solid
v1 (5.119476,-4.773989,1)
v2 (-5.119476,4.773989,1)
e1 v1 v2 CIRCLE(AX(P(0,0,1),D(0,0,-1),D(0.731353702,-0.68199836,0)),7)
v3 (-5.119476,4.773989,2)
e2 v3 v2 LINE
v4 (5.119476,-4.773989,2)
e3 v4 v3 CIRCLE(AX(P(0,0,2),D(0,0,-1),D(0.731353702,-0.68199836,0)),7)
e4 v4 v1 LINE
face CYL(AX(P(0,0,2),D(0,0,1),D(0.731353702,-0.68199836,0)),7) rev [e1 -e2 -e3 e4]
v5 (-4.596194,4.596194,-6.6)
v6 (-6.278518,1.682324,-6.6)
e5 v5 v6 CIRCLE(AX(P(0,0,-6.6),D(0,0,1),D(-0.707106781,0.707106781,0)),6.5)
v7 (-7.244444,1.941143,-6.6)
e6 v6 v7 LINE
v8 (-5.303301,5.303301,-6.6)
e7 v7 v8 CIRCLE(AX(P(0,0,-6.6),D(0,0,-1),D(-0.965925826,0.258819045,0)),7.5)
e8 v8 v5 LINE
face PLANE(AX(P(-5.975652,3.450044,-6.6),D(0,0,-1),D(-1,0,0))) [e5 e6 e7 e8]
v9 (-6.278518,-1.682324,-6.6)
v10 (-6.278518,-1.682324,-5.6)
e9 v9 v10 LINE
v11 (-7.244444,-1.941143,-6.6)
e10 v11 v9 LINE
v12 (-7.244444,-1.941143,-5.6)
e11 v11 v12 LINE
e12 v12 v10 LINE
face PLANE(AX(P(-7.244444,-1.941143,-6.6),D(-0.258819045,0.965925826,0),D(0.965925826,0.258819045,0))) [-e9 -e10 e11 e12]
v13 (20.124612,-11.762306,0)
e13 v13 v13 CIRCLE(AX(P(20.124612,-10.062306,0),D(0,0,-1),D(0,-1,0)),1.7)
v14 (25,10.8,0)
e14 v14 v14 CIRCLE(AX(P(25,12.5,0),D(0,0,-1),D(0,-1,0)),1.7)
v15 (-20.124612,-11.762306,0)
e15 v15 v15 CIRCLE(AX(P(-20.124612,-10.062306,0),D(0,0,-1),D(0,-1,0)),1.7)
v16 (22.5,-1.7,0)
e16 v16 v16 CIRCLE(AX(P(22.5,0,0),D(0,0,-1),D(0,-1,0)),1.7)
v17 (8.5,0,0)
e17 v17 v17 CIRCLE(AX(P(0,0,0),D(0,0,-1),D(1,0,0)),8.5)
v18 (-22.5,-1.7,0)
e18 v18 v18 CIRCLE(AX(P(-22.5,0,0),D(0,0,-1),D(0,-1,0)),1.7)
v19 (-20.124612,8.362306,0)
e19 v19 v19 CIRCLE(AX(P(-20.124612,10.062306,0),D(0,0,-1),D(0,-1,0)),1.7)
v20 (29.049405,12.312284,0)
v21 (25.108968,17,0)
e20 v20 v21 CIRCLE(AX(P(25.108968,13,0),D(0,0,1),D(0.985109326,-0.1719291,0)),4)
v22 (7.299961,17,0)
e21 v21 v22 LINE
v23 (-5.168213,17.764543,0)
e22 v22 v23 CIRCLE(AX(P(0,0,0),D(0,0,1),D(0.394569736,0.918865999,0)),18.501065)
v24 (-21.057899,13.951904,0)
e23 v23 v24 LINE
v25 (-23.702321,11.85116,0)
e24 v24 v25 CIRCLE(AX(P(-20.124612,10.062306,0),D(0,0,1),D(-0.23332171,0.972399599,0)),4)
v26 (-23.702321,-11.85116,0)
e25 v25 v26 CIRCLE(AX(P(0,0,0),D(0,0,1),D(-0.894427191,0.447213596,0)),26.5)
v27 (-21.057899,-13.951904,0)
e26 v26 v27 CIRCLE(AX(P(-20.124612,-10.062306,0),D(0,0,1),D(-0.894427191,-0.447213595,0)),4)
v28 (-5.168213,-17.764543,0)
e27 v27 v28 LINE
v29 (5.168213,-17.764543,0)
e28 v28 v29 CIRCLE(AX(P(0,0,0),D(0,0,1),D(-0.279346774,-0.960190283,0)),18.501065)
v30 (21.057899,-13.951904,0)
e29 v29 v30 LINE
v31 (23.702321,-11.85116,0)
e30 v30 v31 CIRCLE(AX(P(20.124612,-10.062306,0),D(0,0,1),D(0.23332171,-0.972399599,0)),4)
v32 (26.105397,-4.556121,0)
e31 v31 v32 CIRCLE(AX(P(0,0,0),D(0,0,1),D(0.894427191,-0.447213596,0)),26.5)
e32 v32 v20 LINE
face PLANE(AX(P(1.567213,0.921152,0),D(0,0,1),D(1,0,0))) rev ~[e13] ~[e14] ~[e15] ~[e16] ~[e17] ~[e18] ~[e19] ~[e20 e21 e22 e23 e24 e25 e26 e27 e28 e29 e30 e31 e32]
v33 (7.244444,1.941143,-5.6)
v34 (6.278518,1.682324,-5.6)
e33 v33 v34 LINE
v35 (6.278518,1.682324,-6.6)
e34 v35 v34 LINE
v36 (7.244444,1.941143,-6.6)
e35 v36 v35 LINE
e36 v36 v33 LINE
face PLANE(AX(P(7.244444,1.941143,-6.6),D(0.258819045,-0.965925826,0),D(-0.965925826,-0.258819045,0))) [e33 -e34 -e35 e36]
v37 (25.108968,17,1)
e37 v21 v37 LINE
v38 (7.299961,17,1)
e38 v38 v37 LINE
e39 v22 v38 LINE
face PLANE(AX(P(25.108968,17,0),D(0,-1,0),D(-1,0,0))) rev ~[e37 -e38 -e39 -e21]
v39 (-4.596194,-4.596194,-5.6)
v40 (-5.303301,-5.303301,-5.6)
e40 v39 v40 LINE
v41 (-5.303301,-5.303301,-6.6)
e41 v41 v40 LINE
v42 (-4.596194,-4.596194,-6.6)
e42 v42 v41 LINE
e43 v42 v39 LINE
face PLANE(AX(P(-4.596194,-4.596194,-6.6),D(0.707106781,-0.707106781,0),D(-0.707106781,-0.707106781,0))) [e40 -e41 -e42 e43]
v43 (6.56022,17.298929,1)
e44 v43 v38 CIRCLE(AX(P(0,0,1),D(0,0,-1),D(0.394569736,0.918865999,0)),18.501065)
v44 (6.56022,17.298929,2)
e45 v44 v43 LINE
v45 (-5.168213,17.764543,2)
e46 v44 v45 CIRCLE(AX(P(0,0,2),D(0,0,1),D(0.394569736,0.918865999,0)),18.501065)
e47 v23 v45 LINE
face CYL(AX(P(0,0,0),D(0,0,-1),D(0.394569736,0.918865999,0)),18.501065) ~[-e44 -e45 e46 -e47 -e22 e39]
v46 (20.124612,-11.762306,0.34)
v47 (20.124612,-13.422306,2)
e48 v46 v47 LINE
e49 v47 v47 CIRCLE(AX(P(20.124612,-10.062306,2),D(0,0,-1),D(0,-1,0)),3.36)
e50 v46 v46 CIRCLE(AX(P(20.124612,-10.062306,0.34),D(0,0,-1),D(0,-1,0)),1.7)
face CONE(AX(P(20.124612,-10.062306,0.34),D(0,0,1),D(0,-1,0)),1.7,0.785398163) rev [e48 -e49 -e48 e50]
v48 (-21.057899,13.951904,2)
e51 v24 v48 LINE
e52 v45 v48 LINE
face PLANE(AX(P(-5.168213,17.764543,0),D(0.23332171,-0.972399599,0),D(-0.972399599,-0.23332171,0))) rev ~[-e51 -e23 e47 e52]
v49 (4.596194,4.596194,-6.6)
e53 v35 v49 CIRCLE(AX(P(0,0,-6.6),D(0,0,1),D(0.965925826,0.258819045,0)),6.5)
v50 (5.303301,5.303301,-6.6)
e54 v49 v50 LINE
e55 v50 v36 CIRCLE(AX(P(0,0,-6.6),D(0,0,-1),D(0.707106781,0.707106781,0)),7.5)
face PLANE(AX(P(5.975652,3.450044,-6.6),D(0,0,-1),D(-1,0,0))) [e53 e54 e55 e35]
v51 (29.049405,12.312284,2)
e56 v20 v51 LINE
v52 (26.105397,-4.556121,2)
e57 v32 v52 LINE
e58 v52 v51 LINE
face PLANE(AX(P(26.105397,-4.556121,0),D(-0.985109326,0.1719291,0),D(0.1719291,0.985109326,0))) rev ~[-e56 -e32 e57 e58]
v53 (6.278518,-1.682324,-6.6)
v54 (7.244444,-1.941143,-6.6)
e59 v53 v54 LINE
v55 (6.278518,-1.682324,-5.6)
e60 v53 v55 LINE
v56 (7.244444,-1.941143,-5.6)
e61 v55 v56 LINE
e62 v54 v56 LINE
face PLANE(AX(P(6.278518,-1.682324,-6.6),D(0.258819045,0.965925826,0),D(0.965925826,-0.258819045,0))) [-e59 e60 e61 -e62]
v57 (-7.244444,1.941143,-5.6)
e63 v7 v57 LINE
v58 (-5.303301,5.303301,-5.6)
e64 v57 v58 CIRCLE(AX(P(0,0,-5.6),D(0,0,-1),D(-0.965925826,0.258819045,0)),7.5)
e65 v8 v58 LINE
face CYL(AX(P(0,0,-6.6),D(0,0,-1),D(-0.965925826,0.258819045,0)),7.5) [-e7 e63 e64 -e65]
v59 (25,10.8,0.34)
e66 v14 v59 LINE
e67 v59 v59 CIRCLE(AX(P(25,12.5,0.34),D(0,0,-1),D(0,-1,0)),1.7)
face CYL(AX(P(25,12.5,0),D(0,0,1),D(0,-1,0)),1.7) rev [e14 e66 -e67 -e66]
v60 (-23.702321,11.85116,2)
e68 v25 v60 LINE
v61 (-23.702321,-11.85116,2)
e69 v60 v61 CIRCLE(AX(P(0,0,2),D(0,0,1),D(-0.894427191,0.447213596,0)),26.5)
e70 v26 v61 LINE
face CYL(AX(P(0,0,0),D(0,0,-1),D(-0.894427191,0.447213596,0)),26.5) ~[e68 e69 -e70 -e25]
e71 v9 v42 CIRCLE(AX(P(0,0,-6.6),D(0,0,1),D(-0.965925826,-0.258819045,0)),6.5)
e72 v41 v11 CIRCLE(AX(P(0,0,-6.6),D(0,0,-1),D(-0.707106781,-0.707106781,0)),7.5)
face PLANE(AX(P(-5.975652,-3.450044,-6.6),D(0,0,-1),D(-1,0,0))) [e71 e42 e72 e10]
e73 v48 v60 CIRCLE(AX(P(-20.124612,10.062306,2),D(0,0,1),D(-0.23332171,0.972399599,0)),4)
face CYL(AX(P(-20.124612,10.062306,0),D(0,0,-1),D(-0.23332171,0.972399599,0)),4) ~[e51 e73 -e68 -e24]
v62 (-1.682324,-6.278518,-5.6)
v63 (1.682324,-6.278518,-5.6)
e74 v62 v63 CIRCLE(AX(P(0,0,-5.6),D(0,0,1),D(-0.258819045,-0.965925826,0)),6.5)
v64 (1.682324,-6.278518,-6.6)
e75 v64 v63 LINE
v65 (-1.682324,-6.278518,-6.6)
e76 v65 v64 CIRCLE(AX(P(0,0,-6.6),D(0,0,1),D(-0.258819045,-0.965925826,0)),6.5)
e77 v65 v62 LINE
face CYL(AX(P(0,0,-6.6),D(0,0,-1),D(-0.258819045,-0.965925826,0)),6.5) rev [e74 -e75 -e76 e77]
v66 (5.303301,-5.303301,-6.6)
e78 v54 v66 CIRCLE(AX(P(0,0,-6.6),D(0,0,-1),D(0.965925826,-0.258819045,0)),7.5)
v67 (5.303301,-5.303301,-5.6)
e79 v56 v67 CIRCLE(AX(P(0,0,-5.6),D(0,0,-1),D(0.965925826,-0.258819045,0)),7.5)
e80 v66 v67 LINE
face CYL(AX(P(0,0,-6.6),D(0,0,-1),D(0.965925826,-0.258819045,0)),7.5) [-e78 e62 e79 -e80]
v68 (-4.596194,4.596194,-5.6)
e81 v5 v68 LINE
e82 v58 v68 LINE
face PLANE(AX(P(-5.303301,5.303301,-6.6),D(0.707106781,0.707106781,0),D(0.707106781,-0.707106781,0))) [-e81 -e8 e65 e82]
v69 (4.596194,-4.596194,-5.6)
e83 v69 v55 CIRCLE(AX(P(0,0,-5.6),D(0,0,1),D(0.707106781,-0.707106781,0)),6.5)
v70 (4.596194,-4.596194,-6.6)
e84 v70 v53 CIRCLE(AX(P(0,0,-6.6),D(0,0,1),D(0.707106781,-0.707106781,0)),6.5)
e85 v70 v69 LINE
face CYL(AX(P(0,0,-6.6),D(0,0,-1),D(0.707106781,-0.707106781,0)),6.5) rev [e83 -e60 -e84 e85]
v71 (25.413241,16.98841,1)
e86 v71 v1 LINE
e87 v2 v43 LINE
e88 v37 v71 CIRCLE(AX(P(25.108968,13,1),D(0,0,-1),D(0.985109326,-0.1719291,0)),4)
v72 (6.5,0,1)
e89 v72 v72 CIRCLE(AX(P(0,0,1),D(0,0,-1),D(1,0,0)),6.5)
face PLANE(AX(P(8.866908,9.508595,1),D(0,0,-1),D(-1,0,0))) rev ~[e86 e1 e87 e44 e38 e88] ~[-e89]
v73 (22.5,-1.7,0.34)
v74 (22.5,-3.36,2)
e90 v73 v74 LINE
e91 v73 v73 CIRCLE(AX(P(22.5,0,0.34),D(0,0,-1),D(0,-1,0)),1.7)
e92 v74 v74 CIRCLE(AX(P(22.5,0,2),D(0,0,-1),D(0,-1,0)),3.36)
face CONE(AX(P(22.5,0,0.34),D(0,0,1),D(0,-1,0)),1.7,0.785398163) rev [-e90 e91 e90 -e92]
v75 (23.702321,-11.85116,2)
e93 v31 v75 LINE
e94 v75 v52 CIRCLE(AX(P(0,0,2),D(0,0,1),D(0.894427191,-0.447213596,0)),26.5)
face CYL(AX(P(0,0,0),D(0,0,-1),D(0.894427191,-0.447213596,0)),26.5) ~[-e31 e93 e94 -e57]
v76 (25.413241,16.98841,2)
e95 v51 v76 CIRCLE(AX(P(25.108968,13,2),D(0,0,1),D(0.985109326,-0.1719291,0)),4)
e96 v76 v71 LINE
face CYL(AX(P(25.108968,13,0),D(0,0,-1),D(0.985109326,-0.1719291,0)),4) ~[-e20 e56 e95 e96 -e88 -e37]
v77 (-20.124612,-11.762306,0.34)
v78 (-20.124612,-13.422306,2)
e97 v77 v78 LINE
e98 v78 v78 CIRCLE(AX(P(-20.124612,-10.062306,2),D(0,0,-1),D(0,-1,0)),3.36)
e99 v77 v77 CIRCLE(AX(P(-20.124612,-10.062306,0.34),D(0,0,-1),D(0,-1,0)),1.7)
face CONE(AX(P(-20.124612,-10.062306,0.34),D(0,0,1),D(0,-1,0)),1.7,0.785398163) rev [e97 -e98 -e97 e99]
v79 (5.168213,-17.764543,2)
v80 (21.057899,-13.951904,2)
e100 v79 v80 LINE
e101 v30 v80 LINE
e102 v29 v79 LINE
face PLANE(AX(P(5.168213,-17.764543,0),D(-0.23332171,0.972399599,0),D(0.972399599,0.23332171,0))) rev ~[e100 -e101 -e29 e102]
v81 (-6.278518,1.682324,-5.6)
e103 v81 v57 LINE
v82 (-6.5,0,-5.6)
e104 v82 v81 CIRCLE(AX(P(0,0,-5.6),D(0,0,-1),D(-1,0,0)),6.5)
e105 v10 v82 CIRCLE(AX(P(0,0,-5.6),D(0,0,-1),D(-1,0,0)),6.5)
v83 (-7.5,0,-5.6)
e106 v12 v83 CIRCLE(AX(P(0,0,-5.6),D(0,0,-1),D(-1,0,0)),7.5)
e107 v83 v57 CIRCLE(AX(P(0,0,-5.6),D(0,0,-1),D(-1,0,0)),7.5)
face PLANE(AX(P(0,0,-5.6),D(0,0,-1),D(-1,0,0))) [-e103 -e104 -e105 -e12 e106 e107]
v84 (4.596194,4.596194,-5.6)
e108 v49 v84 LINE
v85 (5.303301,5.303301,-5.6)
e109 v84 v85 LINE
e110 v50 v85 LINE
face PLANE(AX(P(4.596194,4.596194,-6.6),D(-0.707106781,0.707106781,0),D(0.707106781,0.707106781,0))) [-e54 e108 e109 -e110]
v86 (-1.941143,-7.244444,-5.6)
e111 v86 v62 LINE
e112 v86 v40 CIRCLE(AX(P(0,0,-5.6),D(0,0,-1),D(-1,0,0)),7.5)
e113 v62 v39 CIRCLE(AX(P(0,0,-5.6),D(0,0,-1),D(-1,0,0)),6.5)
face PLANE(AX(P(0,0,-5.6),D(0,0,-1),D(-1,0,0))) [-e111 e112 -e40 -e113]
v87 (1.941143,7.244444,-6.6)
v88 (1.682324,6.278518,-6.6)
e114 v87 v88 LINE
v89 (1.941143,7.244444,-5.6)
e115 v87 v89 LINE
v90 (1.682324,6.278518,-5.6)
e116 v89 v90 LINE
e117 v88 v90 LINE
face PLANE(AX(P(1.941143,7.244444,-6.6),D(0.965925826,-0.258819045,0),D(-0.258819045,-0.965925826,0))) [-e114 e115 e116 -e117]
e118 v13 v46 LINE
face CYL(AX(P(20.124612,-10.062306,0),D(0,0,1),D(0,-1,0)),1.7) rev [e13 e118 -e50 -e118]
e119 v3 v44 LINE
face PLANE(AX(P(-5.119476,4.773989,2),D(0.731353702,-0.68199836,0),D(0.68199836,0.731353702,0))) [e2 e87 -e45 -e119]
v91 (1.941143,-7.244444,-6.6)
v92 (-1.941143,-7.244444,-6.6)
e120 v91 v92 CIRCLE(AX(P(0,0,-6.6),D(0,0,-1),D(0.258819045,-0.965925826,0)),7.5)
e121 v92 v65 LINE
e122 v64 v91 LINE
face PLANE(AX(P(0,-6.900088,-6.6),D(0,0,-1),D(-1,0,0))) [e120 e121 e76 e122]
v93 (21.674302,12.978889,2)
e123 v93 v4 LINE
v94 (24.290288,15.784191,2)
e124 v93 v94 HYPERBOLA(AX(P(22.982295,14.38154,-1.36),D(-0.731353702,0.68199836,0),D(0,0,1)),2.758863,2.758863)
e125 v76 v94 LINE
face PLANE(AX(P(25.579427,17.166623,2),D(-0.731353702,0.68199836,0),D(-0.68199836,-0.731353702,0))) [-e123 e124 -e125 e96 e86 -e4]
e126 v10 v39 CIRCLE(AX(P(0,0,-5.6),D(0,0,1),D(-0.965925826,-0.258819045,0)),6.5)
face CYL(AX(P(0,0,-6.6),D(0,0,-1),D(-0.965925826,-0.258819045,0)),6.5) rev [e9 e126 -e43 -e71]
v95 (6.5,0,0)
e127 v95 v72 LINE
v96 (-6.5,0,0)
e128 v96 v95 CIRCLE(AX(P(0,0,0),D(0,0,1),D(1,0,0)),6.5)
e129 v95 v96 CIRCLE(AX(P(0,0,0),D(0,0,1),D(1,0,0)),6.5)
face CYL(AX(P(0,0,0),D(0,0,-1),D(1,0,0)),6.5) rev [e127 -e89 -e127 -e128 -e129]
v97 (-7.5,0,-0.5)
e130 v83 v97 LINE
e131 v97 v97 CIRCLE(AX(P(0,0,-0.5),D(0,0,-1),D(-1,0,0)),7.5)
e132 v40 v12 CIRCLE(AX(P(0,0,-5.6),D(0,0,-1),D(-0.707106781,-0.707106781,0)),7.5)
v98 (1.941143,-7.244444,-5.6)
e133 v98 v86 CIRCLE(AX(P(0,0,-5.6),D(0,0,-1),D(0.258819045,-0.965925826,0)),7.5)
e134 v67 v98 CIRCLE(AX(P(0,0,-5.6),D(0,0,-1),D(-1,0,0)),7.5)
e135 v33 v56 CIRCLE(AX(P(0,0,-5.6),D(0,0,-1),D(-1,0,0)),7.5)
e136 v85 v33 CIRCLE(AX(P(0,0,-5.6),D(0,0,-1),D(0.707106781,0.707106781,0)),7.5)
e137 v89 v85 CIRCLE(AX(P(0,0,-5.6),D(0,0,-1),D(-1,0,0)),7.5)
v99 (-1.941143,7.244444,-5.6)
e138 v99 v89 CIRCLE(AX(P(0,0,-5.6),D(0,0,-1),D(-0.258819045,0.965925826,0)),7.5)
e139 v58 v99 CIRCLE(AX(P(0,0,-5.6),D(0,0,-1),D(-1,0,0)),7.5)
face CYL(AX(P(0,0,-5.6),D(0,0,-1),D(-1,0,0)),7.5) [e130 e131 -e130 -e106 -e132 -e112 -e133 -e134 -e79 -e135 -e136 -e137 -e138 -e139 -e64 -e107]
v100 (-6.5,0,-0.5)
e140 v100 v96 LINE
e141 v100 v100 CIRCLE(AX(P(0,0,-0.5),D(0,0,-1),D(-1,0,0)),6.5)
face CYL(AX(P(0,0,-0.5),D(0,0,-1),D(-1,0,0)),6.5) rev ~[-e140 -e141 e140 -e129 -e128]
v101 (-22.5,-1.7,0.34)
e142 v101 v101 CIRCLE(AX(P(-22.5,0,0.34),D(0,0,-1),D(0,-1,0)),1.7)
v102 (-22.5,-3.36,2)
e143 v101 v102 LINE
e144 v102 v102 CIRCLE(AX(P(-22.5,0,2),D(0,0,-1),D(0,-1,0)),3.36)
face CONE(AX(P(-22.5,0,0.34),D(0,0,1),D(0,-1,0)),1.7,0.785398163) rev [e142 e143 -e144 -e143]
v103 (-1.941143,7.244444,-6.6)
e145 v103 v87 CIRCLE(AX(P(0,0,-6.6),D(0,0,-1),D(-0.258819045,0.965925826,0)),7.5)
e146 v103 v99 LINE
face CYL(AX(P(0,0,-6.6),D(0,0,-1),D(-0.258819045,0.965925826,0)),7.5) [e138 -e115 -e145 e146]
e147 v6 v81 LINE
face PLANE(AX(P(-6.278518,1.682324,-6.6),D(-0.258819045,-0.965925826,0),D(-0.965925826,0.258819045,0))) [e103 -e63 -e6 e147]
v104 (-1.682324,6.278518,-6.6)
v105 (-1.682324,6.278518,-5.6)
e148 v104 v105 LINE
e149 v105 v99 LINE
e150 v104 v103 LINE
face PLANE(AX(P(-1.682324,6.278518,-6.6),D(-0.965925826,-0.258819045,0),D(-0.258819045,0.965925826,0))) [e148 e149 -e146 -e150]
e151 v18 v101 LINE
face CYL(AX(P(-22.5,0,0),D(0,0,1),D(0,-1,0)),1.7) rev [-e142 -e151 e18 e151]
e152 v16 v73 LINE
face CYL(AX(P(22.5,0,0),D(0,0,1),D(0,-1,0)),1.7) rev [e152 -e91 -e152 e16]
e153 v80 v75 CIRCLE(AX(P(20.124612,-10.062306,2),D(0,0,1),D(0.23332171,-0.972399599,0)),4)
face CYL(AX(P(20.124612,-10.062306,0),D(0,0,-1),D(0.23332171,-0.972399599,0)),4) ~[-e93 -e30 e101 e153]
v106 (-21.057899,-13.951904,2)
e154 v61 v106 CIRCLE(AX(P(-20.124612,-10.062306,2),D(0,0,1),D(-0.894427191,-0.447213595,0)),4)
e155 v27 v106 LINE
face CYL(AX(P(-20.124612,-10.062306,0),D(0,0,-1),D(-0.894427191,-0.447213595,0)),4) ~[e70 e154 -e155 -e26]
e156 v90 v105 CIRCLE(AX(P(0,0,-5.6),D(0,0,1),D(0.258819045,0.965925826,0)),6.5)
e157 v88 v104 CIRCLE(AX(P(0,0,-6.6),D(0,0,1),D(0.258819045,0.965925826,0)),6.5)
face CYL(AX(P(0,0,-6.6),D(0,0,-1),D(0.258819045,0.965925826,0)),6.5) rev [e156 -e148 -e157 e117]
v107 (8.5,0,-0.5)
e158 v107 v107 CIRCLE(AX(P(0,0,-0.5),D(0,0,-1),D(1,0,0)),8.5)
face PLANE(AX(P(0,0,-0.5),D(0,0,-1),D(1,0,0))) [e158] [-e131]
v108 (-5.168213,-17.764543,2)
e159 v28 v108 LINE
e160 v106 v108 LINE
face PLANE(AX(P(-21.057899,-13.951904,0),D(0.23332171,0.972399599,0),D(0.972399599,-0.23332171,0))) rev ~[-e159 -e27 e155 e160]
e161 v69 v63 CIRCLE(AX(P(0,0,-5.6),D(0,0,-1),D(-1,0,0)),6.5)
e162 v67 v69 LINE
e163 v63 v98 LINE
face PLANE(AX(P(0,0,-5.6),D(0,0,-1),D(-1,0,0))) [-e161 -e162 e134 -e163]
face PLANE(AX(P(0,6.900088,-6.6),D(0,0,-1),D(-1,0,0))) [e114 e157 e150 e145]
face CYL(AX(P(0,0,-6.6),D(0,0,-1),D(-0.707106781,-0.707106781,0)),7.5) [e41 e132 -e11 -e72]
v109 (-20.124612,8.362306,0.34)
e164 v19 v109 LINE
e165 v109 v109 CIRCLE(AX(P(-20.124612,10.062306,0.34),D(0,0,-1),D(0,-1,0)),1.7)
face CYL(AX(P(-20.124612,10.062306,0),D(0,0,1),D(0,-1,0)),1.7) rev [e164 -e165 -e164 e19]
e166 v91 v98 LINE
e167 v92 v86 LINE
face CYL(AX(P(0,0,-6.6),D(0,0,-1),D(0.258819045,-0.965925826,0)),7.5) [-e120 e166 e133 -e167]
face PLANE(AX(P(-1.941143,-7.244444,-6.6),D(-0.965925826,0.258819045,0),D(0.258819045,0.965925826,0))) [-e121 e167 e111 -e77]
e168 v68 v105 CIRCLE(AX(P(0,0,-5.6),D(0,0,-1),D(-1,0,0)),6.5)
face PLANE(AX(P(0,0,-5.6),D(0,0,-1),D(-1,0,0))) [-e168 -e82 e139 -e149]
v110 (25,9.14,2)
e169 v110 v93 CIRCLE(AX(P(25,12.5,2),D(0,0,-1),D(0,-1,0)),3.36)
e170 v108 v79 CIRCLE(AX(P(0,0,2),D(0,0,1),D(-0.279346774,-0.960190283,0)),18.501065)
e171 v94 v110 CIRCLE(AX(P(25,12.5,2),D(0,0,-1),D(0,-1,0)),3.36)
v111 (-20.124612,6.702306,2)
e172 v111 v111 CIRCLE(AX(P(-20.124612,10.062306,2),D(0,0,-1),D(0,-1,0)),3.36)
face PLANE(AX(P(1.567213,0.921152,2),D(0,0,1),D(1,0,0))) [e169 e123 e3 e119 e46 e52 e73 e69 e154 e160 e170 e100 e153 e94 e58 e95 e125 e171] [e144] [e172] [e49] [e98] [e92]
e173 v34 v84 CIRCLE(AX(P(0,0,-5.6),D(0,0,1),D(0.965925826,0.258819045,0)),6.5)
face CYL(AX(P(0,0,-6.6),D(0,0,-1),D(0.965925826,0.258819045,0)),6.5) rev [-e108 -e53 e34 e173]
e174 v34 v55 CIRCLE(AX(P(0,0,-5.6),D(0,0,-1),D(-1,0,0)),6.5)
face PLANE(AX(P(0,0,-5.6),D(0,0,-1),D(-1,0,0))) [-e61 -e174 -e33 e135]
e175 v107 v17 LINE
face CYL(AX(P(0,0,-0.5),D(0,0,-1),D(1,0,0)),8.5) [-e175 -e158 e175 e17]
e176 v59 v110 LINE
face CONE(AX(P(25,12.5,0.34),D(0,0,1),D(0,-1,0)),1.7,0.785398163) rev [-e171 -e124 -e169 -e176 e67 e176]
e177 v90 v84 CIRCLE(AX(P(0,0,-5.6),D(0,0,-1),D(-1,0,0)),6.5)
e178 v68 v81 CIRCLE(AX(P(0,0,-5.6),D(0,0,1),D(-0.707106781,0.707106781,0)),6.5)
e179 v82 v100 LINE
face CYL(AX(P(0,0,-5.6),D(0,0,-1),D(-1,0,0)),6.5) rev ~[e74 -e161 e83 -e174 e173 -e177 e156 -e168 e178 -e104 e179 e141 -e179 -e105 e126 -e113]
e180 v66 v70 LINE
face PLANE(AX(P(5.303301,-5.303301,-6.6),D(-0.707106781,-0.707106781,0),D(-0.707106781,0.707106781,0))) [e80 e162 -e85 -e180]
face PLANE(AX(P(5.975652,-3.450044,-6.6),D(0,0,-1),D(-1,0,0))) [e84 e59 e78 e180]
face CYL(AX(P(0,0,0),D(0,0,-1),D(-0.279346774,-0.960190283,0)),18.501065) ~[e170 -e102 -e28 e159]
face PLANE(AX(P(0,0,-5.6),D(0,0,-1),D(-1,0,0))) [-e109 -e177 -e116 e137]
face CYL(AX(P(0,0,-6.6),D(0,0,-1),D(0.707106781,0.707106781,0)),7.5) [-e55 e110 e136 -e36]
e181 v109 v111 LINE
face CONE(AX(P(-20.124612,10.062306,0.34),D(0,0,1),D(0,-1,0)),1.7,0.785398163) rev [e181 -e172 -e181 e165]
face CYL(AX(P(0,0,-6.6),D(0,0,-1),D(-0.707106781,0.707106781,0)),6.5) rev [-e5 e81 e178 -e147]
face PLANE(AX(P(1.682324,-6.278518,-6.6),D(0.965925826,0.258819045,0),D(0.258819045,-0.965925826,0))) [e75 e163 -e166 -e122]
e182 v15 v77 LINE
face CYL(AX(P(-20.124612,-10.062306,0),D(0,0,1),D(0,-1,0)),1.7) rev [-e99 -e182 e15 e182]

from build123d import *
from build123d.topology import SkipClean

# Parameters (mm, degrees)
SKETCH_1_R                 = 0.5
SKETCH_1_R_2               = 6.5
EXTRUDE_2_DEPTH            = 2
HOLE_WIZARD_M31_AT_2_COUNT = 2
HOLE_WIZARD_M31_AT_2_PITCH = 10.338881425
HOLE_WIZARD_M31_AT_3_COUNT = 2
HOLE_WIZARD_M31_AT_3_PITCH = 20.124611797
HOLE_WIZARD_M31_AT_4_COUNT = 2
HOLE_WIZARD_M31_AT_4_PITCH = 45
HOLE_WIZARD_M31_AT_5_COUNT = 2
HOLE_WIZARD_M31_AT_5_PITCH = 43.796204526
HOLE_WIZARD_M31_AT_6_COUNT = 2
HOLE_WIZARD_M31_AT_6_PITCH = 45.190407637
EXTRUDE_START              = 0.5
SKETCH_4_R                 = 8.5
SKETCH_4_R_2               = 6.5
EXTRUDE_3_DEPTH            = 0.5
EXTRUDE_START_2            = 5.1
SKETCH_5_R                 = 7.5
SKETCH_5_R_2               = 6.5
EXTRUDE_4_DEPTH            = 5.1
CUT_EXTRUDE_1_DEPTH        = 1
EXTRUDE_START_3            = 1
EXTRUDE_5_DEPTH            = 1


with BuildPart() as part:
    # Эскиз1 → Бобышка-Вытянуть2 (new body)
    with BuildSketch(Plane.XY):
        with BuildLine():
            Line((-5.16821295, 17.764543293), (-21.057898637, 13.951904294))
            ThreePointArc((-21.057898637, 13.951904294), (-22.612693727, 13.19430978), (-23.702320561, 11.851160281))
            ThreePointArc((-23.702320561, 11.851160281), (-26.5, 0), (-23.702320561, -11.851160281))
            ThreePointArc((-23.702320561, -11.851160281), (-22.612693727, -13.19430978), (-21.057898637, -13.951904294))
            Line((-21.057898637, -13.951904294), (-5.16821295, -17.764543293))
            ThreePointArc((-5.16821295, -17.764543293), (0, -18.50106547), (5.16821295, -17.764543293))
            Line((5.16821295, -17.764543293), (21.057898637, -13.951904294))
            ThreePointArc((21.057898637, -13.951904294), (22.612693727, -13.19430978), (23.702320561, -11.851160281))
            ThreePointArc((23.702320561, -11.851160281), (25.169556704, -8.291164895), (26.105397143, -4.556121157))
            Line((26.105397143, -4.556121157), (29.049405058, 12.312283599))
            ThreePointArc((29.049405058, 12.312283599), (28.170900607, 15.573823459), (25.108967753, 17))
            Line((25.108967753, 17), (7.299960514, 17))
            ThreePointArc((7.299960514, 17), (1.132350887, 18.466380397), (-5.16821295, 17.764543293))
        make_face()
        with Locations((25, 12.5)):
            Circle(SKETCH_1_R, mode=Mode.SUBTRACT)
        with Locations((22.5, 0)):
            Circle(SKETCH_1_R, mode=Mode.SUBTRACT)
        with Locations((20.124611797, -10.062305899)):
            Circle(SKETCH_1_R, mode=Mode.SUBTRACT)
        with Locations(Location((-20.124611797, -10.062305899, 0), (0, 0, 180))):
            Circle(SKETCH_1_R, mode=Mode.SUBTRACT)
        with Locations(Location((-22.5, 0, 0), (0, 0, 180))):
            Circle(SKETCH_1_R, mode=Mode.SUBTRACT)
        with Locations((-20.124611797, 10.062305899)):
            Circle(SKETCH_1_R, mode=Mode.SUBTRACT)
        Circle(SKETCH_1_R_2, mode=Mode.SUBTRACT)
    extrude(amount=EXTRUDE_2_DEPTH)

    # Эскиз3 → Зенковка для винта с потайной головкой и внутренним шестигранником M31 (revolve, cut)
    with BuildSketch(Plane(origin=(-20.124611797, 10.062305899, 2), x_dir=(0, -1, 0), z_dir=(1, 0, 0))):
        Polygon((0, 0), (0, 2), (1.7, 2), (1.7, 1.66), (3.36, 0), align=None)
    hole_wizard_m31 = revolve(axis=Axis((-20.124611797, 10.062305899, 8.35), (0, 0, -1)), mode=Mode.SUBTRACT)

    # Зенковка для винта с потайной головкой и внутренним шестигранником M31 at 2: Зенковка для винта с потайной головкой и внутренним шестигранником M31 ×2
    with Locations(*[Vector(-0.2297529205473615, -0.9732489894677301, 0) * (i * HOLE_WIZARD_M31_AT_2_PITCH) for i in range(1, HOLE_WIZARD_M31_AT_2_COUNT)]):
        add(hole_wizard_m31, mode=Mode.SUBTRACT)

    # Зенковка для винта с потайной головкой и внутренним шестигранником M31 at 3: Зенковка для винта с потайной головкой и внутренним шестигранником M31 ×2
    with Locations(*[(0, -i * HOLE_WIZARD_M31_AT_3_PITCH, 0) for i in range(1, HOLE_WIZARD_M31_AT_3_COUNT)]):
        add(hole_wizard_m31, mode=Mode.SUBTRACT)

    # Зенковка для винта с потайной головкой и внутренним шестигранником M31 at 4: Зенковка для винта с потайной головкой и внутренним шестигранником M31 ×2
    with Locations(*[Vector(0.894427190999916, -0.4472135954999578, 0) * (i * HOLE_WIZARD_M31_AT_4_PITCH) for i in range(1, HOLE_WIZARD_M31_AT_4_COUNT)]):
        add(hole_wizard_m31, mode=Mode.SUBTRACT)

    # Зенковка для винта с потайной головкой и внутренним шестигранником M31 at 5: Зенковка для винта с потайной головкой и внутренним шестигранником M31 ×2
    with Locations(*[Vector(0.9732489894677302, -0.2297529205473611, 0) * (i * HOLE_WIZARD_M31_AT_5_PITCH) for i in range(1, HOLE_WIZARD_M31_AT_5_COUNT)]):
        add(hole_wizard_m31, mode=Mode.SUBTRACT)

    # Зенковка для винта с потайной головкой и внутренним шестигранником M31 at 6: Зенковка для винта с потайной головкой и внутренним шестигранником M31 ×2
    with Locations(*[Vector(0.9985440308456991, 0.0539427331753181, 0) * (i * HOLE_WIZARD_M31_AT_6_PITCH) for i in range(1, HOLE_WIZARD_M31_AT_6_COUNT)]):
        add(hole_wizard_m31, mode=Mode.SUBTRACT)

    # Эскиз4 → Бобышка-Вытянуть3 (add)
    with SkipClean():  # the faces are left unmerged after this step: merging them gives an invalid solid
        with BuildSketch(Plane(origin=(0, 0, 0), x_dir=(-1, 0, 0), z_dir=(0, 0, -1)).offset(EXTRUDE_START)):
            with Locations(Location((0, 0, 0), (0, 0, 180))):
                Circle(SKETCH_4_R)
            Circle(SKETCH_4_R_2, mode=Mode.SUBTRACT)
        extrude(amount=-EXTRUDE_3_DEPTH)

    # Эскиз5 → Бобышка-Вытянуть4 (add)
    with SkipClean():  # the faces are left unmerged after this step: merging them gives an invalid solid
        with BuildSketch(Plane(origin=(0, 0, -0.5), x_dir=(-1, 0, 0), z_dir=(0, 0, -1)).offset(EXTRUDE_START_2)):
            Circle(SKETCH_5_R)
            Circle(SKETCH_5_R_2, mode=Mode.SUBTRACT)
        extrude(amount=-EXTRUDE_4_DEPTH)

    # Эскиз6 → Вырез-Вытянуть1 (cut)
    with SkipClean():  # the faces are left unmerged after this step: merging them gives an invalid solid
        with BuildSketch(Plane.XY.offset(2)):
            with BuildLine():
                Line((-5.119475911, 4.77398852), (15.340474891, 26.714599569))
                Line((15.340474891, 26.714599569), (25.579426713, 17.166622528))
                Line((25.579426713, 17.166622528), (5.119475911, -4.77398852))
                ThreePointArc((5.119475911, -4.77398852), (-4.77398852, -5.119475911), (-5.119475911, 4.77398852))
            make_face()
        extrude(amount=-CUT_EXTRUDE_1_DEPTH, mode=Mode.SUBTRACT)

    # Эскиз7 → Бобышка-Вытянуть5 (add)
    with SkipClean():  # the faces are left unmerged after this step: merging them gives an invalid solid
        with BuildSketch(Plane(origin=(0, 0, -5.6), x_dir=(-1, 0, 0), z_dir=(0, 0, -1)).offset(EXTRUDE_START_3)):
            with BuildLine():
                Line((-1.941142838, 7.244443697), (-1.682323793, 6.278517871))
                ThreePointArc((-1.682323793, 6.278517871), (0, 6.5), (1.682323793, 6.278517871))
                Line((1.682323793, 6.278517871), (1.941142838, 7.244443697))
                ThreePointArc((1.941142838, 7.244443697), (0, 7.5), (-1.941142838, 7.244443697))
            make_face()
            with BuildLine():
                Line((5.303300859, 5.303300859), (4.596194078, 4.596194078))
                ThreePointArc((4.596194078, 4.596194078), (5.629165125, 3.25), (6.278517871, 1.682323793))
                Line((6.278517871, 1.682323793), (7.244443697, 1.941142838))
                ThreePointArc((7.244443697, 1.941142838), (6.495190528, 3.75), (5.303300859, 5.303300859))
            make_face()
            with BuildLine():
                Line((7.244443697, -1.941142838), (6.278517871, -1.682323793))
                ThreePointArc((6.278517871, -1.682323793), (5.629165125, -3.25), (4.596194078, -4.596194078))
                Line((4.596194078, -4.596194078), (5.303300859, -5.303300859))
                ThreePointArc((5.303300859, -5.303300859), (6.495190528, -3.75), (7.244443697, -1.941142838))
            make_face()
            with BuildLine():
                Line((1.941142838, -7.244443697), (1.682323793, -6.278517871))
                ThreePointArc((1.682323793, -6.278517871), (0, -6.5), (-1.682323793, -6.278517871))
                Line((-1.682323793, -6.278517871), (-1.941142838, -7.244443697))
                ThreePointArc((-1.941142838, -7.244443697), (0, -7.5), (1.941142838, -7.244443697))
            make_face()
            with BuildLine():
                Line((-5.303300859, -5.303300859), (-4.596194078, -4.596194078))
                ThreePointArc((-4.596194078, -4.596194078), (-5.629165125, -3.25), (-6.278517871, -1.682323793))
                Line((-6.278517871, -1.682323793), (-7.244443697, -1.941142838))
                ThreePointArc((-7.244443697, -1.941142838), (-6.495190528, -3.75), (-5.303300859, -5.303300859))
            make_face()
            with BuildLine():
                Line((-7.244443697, 1.941142838), (-6.278517871, 1.682323793))
                ThreePointArc((-6.278517871, 1.682323793), (-5.629165125, 3.25), (-4.596194078, 4.596194078))
                Line((-4.596194078, 4.596194078), (-5.303300859, 5.303300859))
                ThreePointArc((-5.303300859, 5.303300859), (-6.495190528, 3.75), (-7.244443697, 1.941142838))
            make_face()
        extrude(amount=-EXTRUDE_5_DEPTH)


solid = part.part
